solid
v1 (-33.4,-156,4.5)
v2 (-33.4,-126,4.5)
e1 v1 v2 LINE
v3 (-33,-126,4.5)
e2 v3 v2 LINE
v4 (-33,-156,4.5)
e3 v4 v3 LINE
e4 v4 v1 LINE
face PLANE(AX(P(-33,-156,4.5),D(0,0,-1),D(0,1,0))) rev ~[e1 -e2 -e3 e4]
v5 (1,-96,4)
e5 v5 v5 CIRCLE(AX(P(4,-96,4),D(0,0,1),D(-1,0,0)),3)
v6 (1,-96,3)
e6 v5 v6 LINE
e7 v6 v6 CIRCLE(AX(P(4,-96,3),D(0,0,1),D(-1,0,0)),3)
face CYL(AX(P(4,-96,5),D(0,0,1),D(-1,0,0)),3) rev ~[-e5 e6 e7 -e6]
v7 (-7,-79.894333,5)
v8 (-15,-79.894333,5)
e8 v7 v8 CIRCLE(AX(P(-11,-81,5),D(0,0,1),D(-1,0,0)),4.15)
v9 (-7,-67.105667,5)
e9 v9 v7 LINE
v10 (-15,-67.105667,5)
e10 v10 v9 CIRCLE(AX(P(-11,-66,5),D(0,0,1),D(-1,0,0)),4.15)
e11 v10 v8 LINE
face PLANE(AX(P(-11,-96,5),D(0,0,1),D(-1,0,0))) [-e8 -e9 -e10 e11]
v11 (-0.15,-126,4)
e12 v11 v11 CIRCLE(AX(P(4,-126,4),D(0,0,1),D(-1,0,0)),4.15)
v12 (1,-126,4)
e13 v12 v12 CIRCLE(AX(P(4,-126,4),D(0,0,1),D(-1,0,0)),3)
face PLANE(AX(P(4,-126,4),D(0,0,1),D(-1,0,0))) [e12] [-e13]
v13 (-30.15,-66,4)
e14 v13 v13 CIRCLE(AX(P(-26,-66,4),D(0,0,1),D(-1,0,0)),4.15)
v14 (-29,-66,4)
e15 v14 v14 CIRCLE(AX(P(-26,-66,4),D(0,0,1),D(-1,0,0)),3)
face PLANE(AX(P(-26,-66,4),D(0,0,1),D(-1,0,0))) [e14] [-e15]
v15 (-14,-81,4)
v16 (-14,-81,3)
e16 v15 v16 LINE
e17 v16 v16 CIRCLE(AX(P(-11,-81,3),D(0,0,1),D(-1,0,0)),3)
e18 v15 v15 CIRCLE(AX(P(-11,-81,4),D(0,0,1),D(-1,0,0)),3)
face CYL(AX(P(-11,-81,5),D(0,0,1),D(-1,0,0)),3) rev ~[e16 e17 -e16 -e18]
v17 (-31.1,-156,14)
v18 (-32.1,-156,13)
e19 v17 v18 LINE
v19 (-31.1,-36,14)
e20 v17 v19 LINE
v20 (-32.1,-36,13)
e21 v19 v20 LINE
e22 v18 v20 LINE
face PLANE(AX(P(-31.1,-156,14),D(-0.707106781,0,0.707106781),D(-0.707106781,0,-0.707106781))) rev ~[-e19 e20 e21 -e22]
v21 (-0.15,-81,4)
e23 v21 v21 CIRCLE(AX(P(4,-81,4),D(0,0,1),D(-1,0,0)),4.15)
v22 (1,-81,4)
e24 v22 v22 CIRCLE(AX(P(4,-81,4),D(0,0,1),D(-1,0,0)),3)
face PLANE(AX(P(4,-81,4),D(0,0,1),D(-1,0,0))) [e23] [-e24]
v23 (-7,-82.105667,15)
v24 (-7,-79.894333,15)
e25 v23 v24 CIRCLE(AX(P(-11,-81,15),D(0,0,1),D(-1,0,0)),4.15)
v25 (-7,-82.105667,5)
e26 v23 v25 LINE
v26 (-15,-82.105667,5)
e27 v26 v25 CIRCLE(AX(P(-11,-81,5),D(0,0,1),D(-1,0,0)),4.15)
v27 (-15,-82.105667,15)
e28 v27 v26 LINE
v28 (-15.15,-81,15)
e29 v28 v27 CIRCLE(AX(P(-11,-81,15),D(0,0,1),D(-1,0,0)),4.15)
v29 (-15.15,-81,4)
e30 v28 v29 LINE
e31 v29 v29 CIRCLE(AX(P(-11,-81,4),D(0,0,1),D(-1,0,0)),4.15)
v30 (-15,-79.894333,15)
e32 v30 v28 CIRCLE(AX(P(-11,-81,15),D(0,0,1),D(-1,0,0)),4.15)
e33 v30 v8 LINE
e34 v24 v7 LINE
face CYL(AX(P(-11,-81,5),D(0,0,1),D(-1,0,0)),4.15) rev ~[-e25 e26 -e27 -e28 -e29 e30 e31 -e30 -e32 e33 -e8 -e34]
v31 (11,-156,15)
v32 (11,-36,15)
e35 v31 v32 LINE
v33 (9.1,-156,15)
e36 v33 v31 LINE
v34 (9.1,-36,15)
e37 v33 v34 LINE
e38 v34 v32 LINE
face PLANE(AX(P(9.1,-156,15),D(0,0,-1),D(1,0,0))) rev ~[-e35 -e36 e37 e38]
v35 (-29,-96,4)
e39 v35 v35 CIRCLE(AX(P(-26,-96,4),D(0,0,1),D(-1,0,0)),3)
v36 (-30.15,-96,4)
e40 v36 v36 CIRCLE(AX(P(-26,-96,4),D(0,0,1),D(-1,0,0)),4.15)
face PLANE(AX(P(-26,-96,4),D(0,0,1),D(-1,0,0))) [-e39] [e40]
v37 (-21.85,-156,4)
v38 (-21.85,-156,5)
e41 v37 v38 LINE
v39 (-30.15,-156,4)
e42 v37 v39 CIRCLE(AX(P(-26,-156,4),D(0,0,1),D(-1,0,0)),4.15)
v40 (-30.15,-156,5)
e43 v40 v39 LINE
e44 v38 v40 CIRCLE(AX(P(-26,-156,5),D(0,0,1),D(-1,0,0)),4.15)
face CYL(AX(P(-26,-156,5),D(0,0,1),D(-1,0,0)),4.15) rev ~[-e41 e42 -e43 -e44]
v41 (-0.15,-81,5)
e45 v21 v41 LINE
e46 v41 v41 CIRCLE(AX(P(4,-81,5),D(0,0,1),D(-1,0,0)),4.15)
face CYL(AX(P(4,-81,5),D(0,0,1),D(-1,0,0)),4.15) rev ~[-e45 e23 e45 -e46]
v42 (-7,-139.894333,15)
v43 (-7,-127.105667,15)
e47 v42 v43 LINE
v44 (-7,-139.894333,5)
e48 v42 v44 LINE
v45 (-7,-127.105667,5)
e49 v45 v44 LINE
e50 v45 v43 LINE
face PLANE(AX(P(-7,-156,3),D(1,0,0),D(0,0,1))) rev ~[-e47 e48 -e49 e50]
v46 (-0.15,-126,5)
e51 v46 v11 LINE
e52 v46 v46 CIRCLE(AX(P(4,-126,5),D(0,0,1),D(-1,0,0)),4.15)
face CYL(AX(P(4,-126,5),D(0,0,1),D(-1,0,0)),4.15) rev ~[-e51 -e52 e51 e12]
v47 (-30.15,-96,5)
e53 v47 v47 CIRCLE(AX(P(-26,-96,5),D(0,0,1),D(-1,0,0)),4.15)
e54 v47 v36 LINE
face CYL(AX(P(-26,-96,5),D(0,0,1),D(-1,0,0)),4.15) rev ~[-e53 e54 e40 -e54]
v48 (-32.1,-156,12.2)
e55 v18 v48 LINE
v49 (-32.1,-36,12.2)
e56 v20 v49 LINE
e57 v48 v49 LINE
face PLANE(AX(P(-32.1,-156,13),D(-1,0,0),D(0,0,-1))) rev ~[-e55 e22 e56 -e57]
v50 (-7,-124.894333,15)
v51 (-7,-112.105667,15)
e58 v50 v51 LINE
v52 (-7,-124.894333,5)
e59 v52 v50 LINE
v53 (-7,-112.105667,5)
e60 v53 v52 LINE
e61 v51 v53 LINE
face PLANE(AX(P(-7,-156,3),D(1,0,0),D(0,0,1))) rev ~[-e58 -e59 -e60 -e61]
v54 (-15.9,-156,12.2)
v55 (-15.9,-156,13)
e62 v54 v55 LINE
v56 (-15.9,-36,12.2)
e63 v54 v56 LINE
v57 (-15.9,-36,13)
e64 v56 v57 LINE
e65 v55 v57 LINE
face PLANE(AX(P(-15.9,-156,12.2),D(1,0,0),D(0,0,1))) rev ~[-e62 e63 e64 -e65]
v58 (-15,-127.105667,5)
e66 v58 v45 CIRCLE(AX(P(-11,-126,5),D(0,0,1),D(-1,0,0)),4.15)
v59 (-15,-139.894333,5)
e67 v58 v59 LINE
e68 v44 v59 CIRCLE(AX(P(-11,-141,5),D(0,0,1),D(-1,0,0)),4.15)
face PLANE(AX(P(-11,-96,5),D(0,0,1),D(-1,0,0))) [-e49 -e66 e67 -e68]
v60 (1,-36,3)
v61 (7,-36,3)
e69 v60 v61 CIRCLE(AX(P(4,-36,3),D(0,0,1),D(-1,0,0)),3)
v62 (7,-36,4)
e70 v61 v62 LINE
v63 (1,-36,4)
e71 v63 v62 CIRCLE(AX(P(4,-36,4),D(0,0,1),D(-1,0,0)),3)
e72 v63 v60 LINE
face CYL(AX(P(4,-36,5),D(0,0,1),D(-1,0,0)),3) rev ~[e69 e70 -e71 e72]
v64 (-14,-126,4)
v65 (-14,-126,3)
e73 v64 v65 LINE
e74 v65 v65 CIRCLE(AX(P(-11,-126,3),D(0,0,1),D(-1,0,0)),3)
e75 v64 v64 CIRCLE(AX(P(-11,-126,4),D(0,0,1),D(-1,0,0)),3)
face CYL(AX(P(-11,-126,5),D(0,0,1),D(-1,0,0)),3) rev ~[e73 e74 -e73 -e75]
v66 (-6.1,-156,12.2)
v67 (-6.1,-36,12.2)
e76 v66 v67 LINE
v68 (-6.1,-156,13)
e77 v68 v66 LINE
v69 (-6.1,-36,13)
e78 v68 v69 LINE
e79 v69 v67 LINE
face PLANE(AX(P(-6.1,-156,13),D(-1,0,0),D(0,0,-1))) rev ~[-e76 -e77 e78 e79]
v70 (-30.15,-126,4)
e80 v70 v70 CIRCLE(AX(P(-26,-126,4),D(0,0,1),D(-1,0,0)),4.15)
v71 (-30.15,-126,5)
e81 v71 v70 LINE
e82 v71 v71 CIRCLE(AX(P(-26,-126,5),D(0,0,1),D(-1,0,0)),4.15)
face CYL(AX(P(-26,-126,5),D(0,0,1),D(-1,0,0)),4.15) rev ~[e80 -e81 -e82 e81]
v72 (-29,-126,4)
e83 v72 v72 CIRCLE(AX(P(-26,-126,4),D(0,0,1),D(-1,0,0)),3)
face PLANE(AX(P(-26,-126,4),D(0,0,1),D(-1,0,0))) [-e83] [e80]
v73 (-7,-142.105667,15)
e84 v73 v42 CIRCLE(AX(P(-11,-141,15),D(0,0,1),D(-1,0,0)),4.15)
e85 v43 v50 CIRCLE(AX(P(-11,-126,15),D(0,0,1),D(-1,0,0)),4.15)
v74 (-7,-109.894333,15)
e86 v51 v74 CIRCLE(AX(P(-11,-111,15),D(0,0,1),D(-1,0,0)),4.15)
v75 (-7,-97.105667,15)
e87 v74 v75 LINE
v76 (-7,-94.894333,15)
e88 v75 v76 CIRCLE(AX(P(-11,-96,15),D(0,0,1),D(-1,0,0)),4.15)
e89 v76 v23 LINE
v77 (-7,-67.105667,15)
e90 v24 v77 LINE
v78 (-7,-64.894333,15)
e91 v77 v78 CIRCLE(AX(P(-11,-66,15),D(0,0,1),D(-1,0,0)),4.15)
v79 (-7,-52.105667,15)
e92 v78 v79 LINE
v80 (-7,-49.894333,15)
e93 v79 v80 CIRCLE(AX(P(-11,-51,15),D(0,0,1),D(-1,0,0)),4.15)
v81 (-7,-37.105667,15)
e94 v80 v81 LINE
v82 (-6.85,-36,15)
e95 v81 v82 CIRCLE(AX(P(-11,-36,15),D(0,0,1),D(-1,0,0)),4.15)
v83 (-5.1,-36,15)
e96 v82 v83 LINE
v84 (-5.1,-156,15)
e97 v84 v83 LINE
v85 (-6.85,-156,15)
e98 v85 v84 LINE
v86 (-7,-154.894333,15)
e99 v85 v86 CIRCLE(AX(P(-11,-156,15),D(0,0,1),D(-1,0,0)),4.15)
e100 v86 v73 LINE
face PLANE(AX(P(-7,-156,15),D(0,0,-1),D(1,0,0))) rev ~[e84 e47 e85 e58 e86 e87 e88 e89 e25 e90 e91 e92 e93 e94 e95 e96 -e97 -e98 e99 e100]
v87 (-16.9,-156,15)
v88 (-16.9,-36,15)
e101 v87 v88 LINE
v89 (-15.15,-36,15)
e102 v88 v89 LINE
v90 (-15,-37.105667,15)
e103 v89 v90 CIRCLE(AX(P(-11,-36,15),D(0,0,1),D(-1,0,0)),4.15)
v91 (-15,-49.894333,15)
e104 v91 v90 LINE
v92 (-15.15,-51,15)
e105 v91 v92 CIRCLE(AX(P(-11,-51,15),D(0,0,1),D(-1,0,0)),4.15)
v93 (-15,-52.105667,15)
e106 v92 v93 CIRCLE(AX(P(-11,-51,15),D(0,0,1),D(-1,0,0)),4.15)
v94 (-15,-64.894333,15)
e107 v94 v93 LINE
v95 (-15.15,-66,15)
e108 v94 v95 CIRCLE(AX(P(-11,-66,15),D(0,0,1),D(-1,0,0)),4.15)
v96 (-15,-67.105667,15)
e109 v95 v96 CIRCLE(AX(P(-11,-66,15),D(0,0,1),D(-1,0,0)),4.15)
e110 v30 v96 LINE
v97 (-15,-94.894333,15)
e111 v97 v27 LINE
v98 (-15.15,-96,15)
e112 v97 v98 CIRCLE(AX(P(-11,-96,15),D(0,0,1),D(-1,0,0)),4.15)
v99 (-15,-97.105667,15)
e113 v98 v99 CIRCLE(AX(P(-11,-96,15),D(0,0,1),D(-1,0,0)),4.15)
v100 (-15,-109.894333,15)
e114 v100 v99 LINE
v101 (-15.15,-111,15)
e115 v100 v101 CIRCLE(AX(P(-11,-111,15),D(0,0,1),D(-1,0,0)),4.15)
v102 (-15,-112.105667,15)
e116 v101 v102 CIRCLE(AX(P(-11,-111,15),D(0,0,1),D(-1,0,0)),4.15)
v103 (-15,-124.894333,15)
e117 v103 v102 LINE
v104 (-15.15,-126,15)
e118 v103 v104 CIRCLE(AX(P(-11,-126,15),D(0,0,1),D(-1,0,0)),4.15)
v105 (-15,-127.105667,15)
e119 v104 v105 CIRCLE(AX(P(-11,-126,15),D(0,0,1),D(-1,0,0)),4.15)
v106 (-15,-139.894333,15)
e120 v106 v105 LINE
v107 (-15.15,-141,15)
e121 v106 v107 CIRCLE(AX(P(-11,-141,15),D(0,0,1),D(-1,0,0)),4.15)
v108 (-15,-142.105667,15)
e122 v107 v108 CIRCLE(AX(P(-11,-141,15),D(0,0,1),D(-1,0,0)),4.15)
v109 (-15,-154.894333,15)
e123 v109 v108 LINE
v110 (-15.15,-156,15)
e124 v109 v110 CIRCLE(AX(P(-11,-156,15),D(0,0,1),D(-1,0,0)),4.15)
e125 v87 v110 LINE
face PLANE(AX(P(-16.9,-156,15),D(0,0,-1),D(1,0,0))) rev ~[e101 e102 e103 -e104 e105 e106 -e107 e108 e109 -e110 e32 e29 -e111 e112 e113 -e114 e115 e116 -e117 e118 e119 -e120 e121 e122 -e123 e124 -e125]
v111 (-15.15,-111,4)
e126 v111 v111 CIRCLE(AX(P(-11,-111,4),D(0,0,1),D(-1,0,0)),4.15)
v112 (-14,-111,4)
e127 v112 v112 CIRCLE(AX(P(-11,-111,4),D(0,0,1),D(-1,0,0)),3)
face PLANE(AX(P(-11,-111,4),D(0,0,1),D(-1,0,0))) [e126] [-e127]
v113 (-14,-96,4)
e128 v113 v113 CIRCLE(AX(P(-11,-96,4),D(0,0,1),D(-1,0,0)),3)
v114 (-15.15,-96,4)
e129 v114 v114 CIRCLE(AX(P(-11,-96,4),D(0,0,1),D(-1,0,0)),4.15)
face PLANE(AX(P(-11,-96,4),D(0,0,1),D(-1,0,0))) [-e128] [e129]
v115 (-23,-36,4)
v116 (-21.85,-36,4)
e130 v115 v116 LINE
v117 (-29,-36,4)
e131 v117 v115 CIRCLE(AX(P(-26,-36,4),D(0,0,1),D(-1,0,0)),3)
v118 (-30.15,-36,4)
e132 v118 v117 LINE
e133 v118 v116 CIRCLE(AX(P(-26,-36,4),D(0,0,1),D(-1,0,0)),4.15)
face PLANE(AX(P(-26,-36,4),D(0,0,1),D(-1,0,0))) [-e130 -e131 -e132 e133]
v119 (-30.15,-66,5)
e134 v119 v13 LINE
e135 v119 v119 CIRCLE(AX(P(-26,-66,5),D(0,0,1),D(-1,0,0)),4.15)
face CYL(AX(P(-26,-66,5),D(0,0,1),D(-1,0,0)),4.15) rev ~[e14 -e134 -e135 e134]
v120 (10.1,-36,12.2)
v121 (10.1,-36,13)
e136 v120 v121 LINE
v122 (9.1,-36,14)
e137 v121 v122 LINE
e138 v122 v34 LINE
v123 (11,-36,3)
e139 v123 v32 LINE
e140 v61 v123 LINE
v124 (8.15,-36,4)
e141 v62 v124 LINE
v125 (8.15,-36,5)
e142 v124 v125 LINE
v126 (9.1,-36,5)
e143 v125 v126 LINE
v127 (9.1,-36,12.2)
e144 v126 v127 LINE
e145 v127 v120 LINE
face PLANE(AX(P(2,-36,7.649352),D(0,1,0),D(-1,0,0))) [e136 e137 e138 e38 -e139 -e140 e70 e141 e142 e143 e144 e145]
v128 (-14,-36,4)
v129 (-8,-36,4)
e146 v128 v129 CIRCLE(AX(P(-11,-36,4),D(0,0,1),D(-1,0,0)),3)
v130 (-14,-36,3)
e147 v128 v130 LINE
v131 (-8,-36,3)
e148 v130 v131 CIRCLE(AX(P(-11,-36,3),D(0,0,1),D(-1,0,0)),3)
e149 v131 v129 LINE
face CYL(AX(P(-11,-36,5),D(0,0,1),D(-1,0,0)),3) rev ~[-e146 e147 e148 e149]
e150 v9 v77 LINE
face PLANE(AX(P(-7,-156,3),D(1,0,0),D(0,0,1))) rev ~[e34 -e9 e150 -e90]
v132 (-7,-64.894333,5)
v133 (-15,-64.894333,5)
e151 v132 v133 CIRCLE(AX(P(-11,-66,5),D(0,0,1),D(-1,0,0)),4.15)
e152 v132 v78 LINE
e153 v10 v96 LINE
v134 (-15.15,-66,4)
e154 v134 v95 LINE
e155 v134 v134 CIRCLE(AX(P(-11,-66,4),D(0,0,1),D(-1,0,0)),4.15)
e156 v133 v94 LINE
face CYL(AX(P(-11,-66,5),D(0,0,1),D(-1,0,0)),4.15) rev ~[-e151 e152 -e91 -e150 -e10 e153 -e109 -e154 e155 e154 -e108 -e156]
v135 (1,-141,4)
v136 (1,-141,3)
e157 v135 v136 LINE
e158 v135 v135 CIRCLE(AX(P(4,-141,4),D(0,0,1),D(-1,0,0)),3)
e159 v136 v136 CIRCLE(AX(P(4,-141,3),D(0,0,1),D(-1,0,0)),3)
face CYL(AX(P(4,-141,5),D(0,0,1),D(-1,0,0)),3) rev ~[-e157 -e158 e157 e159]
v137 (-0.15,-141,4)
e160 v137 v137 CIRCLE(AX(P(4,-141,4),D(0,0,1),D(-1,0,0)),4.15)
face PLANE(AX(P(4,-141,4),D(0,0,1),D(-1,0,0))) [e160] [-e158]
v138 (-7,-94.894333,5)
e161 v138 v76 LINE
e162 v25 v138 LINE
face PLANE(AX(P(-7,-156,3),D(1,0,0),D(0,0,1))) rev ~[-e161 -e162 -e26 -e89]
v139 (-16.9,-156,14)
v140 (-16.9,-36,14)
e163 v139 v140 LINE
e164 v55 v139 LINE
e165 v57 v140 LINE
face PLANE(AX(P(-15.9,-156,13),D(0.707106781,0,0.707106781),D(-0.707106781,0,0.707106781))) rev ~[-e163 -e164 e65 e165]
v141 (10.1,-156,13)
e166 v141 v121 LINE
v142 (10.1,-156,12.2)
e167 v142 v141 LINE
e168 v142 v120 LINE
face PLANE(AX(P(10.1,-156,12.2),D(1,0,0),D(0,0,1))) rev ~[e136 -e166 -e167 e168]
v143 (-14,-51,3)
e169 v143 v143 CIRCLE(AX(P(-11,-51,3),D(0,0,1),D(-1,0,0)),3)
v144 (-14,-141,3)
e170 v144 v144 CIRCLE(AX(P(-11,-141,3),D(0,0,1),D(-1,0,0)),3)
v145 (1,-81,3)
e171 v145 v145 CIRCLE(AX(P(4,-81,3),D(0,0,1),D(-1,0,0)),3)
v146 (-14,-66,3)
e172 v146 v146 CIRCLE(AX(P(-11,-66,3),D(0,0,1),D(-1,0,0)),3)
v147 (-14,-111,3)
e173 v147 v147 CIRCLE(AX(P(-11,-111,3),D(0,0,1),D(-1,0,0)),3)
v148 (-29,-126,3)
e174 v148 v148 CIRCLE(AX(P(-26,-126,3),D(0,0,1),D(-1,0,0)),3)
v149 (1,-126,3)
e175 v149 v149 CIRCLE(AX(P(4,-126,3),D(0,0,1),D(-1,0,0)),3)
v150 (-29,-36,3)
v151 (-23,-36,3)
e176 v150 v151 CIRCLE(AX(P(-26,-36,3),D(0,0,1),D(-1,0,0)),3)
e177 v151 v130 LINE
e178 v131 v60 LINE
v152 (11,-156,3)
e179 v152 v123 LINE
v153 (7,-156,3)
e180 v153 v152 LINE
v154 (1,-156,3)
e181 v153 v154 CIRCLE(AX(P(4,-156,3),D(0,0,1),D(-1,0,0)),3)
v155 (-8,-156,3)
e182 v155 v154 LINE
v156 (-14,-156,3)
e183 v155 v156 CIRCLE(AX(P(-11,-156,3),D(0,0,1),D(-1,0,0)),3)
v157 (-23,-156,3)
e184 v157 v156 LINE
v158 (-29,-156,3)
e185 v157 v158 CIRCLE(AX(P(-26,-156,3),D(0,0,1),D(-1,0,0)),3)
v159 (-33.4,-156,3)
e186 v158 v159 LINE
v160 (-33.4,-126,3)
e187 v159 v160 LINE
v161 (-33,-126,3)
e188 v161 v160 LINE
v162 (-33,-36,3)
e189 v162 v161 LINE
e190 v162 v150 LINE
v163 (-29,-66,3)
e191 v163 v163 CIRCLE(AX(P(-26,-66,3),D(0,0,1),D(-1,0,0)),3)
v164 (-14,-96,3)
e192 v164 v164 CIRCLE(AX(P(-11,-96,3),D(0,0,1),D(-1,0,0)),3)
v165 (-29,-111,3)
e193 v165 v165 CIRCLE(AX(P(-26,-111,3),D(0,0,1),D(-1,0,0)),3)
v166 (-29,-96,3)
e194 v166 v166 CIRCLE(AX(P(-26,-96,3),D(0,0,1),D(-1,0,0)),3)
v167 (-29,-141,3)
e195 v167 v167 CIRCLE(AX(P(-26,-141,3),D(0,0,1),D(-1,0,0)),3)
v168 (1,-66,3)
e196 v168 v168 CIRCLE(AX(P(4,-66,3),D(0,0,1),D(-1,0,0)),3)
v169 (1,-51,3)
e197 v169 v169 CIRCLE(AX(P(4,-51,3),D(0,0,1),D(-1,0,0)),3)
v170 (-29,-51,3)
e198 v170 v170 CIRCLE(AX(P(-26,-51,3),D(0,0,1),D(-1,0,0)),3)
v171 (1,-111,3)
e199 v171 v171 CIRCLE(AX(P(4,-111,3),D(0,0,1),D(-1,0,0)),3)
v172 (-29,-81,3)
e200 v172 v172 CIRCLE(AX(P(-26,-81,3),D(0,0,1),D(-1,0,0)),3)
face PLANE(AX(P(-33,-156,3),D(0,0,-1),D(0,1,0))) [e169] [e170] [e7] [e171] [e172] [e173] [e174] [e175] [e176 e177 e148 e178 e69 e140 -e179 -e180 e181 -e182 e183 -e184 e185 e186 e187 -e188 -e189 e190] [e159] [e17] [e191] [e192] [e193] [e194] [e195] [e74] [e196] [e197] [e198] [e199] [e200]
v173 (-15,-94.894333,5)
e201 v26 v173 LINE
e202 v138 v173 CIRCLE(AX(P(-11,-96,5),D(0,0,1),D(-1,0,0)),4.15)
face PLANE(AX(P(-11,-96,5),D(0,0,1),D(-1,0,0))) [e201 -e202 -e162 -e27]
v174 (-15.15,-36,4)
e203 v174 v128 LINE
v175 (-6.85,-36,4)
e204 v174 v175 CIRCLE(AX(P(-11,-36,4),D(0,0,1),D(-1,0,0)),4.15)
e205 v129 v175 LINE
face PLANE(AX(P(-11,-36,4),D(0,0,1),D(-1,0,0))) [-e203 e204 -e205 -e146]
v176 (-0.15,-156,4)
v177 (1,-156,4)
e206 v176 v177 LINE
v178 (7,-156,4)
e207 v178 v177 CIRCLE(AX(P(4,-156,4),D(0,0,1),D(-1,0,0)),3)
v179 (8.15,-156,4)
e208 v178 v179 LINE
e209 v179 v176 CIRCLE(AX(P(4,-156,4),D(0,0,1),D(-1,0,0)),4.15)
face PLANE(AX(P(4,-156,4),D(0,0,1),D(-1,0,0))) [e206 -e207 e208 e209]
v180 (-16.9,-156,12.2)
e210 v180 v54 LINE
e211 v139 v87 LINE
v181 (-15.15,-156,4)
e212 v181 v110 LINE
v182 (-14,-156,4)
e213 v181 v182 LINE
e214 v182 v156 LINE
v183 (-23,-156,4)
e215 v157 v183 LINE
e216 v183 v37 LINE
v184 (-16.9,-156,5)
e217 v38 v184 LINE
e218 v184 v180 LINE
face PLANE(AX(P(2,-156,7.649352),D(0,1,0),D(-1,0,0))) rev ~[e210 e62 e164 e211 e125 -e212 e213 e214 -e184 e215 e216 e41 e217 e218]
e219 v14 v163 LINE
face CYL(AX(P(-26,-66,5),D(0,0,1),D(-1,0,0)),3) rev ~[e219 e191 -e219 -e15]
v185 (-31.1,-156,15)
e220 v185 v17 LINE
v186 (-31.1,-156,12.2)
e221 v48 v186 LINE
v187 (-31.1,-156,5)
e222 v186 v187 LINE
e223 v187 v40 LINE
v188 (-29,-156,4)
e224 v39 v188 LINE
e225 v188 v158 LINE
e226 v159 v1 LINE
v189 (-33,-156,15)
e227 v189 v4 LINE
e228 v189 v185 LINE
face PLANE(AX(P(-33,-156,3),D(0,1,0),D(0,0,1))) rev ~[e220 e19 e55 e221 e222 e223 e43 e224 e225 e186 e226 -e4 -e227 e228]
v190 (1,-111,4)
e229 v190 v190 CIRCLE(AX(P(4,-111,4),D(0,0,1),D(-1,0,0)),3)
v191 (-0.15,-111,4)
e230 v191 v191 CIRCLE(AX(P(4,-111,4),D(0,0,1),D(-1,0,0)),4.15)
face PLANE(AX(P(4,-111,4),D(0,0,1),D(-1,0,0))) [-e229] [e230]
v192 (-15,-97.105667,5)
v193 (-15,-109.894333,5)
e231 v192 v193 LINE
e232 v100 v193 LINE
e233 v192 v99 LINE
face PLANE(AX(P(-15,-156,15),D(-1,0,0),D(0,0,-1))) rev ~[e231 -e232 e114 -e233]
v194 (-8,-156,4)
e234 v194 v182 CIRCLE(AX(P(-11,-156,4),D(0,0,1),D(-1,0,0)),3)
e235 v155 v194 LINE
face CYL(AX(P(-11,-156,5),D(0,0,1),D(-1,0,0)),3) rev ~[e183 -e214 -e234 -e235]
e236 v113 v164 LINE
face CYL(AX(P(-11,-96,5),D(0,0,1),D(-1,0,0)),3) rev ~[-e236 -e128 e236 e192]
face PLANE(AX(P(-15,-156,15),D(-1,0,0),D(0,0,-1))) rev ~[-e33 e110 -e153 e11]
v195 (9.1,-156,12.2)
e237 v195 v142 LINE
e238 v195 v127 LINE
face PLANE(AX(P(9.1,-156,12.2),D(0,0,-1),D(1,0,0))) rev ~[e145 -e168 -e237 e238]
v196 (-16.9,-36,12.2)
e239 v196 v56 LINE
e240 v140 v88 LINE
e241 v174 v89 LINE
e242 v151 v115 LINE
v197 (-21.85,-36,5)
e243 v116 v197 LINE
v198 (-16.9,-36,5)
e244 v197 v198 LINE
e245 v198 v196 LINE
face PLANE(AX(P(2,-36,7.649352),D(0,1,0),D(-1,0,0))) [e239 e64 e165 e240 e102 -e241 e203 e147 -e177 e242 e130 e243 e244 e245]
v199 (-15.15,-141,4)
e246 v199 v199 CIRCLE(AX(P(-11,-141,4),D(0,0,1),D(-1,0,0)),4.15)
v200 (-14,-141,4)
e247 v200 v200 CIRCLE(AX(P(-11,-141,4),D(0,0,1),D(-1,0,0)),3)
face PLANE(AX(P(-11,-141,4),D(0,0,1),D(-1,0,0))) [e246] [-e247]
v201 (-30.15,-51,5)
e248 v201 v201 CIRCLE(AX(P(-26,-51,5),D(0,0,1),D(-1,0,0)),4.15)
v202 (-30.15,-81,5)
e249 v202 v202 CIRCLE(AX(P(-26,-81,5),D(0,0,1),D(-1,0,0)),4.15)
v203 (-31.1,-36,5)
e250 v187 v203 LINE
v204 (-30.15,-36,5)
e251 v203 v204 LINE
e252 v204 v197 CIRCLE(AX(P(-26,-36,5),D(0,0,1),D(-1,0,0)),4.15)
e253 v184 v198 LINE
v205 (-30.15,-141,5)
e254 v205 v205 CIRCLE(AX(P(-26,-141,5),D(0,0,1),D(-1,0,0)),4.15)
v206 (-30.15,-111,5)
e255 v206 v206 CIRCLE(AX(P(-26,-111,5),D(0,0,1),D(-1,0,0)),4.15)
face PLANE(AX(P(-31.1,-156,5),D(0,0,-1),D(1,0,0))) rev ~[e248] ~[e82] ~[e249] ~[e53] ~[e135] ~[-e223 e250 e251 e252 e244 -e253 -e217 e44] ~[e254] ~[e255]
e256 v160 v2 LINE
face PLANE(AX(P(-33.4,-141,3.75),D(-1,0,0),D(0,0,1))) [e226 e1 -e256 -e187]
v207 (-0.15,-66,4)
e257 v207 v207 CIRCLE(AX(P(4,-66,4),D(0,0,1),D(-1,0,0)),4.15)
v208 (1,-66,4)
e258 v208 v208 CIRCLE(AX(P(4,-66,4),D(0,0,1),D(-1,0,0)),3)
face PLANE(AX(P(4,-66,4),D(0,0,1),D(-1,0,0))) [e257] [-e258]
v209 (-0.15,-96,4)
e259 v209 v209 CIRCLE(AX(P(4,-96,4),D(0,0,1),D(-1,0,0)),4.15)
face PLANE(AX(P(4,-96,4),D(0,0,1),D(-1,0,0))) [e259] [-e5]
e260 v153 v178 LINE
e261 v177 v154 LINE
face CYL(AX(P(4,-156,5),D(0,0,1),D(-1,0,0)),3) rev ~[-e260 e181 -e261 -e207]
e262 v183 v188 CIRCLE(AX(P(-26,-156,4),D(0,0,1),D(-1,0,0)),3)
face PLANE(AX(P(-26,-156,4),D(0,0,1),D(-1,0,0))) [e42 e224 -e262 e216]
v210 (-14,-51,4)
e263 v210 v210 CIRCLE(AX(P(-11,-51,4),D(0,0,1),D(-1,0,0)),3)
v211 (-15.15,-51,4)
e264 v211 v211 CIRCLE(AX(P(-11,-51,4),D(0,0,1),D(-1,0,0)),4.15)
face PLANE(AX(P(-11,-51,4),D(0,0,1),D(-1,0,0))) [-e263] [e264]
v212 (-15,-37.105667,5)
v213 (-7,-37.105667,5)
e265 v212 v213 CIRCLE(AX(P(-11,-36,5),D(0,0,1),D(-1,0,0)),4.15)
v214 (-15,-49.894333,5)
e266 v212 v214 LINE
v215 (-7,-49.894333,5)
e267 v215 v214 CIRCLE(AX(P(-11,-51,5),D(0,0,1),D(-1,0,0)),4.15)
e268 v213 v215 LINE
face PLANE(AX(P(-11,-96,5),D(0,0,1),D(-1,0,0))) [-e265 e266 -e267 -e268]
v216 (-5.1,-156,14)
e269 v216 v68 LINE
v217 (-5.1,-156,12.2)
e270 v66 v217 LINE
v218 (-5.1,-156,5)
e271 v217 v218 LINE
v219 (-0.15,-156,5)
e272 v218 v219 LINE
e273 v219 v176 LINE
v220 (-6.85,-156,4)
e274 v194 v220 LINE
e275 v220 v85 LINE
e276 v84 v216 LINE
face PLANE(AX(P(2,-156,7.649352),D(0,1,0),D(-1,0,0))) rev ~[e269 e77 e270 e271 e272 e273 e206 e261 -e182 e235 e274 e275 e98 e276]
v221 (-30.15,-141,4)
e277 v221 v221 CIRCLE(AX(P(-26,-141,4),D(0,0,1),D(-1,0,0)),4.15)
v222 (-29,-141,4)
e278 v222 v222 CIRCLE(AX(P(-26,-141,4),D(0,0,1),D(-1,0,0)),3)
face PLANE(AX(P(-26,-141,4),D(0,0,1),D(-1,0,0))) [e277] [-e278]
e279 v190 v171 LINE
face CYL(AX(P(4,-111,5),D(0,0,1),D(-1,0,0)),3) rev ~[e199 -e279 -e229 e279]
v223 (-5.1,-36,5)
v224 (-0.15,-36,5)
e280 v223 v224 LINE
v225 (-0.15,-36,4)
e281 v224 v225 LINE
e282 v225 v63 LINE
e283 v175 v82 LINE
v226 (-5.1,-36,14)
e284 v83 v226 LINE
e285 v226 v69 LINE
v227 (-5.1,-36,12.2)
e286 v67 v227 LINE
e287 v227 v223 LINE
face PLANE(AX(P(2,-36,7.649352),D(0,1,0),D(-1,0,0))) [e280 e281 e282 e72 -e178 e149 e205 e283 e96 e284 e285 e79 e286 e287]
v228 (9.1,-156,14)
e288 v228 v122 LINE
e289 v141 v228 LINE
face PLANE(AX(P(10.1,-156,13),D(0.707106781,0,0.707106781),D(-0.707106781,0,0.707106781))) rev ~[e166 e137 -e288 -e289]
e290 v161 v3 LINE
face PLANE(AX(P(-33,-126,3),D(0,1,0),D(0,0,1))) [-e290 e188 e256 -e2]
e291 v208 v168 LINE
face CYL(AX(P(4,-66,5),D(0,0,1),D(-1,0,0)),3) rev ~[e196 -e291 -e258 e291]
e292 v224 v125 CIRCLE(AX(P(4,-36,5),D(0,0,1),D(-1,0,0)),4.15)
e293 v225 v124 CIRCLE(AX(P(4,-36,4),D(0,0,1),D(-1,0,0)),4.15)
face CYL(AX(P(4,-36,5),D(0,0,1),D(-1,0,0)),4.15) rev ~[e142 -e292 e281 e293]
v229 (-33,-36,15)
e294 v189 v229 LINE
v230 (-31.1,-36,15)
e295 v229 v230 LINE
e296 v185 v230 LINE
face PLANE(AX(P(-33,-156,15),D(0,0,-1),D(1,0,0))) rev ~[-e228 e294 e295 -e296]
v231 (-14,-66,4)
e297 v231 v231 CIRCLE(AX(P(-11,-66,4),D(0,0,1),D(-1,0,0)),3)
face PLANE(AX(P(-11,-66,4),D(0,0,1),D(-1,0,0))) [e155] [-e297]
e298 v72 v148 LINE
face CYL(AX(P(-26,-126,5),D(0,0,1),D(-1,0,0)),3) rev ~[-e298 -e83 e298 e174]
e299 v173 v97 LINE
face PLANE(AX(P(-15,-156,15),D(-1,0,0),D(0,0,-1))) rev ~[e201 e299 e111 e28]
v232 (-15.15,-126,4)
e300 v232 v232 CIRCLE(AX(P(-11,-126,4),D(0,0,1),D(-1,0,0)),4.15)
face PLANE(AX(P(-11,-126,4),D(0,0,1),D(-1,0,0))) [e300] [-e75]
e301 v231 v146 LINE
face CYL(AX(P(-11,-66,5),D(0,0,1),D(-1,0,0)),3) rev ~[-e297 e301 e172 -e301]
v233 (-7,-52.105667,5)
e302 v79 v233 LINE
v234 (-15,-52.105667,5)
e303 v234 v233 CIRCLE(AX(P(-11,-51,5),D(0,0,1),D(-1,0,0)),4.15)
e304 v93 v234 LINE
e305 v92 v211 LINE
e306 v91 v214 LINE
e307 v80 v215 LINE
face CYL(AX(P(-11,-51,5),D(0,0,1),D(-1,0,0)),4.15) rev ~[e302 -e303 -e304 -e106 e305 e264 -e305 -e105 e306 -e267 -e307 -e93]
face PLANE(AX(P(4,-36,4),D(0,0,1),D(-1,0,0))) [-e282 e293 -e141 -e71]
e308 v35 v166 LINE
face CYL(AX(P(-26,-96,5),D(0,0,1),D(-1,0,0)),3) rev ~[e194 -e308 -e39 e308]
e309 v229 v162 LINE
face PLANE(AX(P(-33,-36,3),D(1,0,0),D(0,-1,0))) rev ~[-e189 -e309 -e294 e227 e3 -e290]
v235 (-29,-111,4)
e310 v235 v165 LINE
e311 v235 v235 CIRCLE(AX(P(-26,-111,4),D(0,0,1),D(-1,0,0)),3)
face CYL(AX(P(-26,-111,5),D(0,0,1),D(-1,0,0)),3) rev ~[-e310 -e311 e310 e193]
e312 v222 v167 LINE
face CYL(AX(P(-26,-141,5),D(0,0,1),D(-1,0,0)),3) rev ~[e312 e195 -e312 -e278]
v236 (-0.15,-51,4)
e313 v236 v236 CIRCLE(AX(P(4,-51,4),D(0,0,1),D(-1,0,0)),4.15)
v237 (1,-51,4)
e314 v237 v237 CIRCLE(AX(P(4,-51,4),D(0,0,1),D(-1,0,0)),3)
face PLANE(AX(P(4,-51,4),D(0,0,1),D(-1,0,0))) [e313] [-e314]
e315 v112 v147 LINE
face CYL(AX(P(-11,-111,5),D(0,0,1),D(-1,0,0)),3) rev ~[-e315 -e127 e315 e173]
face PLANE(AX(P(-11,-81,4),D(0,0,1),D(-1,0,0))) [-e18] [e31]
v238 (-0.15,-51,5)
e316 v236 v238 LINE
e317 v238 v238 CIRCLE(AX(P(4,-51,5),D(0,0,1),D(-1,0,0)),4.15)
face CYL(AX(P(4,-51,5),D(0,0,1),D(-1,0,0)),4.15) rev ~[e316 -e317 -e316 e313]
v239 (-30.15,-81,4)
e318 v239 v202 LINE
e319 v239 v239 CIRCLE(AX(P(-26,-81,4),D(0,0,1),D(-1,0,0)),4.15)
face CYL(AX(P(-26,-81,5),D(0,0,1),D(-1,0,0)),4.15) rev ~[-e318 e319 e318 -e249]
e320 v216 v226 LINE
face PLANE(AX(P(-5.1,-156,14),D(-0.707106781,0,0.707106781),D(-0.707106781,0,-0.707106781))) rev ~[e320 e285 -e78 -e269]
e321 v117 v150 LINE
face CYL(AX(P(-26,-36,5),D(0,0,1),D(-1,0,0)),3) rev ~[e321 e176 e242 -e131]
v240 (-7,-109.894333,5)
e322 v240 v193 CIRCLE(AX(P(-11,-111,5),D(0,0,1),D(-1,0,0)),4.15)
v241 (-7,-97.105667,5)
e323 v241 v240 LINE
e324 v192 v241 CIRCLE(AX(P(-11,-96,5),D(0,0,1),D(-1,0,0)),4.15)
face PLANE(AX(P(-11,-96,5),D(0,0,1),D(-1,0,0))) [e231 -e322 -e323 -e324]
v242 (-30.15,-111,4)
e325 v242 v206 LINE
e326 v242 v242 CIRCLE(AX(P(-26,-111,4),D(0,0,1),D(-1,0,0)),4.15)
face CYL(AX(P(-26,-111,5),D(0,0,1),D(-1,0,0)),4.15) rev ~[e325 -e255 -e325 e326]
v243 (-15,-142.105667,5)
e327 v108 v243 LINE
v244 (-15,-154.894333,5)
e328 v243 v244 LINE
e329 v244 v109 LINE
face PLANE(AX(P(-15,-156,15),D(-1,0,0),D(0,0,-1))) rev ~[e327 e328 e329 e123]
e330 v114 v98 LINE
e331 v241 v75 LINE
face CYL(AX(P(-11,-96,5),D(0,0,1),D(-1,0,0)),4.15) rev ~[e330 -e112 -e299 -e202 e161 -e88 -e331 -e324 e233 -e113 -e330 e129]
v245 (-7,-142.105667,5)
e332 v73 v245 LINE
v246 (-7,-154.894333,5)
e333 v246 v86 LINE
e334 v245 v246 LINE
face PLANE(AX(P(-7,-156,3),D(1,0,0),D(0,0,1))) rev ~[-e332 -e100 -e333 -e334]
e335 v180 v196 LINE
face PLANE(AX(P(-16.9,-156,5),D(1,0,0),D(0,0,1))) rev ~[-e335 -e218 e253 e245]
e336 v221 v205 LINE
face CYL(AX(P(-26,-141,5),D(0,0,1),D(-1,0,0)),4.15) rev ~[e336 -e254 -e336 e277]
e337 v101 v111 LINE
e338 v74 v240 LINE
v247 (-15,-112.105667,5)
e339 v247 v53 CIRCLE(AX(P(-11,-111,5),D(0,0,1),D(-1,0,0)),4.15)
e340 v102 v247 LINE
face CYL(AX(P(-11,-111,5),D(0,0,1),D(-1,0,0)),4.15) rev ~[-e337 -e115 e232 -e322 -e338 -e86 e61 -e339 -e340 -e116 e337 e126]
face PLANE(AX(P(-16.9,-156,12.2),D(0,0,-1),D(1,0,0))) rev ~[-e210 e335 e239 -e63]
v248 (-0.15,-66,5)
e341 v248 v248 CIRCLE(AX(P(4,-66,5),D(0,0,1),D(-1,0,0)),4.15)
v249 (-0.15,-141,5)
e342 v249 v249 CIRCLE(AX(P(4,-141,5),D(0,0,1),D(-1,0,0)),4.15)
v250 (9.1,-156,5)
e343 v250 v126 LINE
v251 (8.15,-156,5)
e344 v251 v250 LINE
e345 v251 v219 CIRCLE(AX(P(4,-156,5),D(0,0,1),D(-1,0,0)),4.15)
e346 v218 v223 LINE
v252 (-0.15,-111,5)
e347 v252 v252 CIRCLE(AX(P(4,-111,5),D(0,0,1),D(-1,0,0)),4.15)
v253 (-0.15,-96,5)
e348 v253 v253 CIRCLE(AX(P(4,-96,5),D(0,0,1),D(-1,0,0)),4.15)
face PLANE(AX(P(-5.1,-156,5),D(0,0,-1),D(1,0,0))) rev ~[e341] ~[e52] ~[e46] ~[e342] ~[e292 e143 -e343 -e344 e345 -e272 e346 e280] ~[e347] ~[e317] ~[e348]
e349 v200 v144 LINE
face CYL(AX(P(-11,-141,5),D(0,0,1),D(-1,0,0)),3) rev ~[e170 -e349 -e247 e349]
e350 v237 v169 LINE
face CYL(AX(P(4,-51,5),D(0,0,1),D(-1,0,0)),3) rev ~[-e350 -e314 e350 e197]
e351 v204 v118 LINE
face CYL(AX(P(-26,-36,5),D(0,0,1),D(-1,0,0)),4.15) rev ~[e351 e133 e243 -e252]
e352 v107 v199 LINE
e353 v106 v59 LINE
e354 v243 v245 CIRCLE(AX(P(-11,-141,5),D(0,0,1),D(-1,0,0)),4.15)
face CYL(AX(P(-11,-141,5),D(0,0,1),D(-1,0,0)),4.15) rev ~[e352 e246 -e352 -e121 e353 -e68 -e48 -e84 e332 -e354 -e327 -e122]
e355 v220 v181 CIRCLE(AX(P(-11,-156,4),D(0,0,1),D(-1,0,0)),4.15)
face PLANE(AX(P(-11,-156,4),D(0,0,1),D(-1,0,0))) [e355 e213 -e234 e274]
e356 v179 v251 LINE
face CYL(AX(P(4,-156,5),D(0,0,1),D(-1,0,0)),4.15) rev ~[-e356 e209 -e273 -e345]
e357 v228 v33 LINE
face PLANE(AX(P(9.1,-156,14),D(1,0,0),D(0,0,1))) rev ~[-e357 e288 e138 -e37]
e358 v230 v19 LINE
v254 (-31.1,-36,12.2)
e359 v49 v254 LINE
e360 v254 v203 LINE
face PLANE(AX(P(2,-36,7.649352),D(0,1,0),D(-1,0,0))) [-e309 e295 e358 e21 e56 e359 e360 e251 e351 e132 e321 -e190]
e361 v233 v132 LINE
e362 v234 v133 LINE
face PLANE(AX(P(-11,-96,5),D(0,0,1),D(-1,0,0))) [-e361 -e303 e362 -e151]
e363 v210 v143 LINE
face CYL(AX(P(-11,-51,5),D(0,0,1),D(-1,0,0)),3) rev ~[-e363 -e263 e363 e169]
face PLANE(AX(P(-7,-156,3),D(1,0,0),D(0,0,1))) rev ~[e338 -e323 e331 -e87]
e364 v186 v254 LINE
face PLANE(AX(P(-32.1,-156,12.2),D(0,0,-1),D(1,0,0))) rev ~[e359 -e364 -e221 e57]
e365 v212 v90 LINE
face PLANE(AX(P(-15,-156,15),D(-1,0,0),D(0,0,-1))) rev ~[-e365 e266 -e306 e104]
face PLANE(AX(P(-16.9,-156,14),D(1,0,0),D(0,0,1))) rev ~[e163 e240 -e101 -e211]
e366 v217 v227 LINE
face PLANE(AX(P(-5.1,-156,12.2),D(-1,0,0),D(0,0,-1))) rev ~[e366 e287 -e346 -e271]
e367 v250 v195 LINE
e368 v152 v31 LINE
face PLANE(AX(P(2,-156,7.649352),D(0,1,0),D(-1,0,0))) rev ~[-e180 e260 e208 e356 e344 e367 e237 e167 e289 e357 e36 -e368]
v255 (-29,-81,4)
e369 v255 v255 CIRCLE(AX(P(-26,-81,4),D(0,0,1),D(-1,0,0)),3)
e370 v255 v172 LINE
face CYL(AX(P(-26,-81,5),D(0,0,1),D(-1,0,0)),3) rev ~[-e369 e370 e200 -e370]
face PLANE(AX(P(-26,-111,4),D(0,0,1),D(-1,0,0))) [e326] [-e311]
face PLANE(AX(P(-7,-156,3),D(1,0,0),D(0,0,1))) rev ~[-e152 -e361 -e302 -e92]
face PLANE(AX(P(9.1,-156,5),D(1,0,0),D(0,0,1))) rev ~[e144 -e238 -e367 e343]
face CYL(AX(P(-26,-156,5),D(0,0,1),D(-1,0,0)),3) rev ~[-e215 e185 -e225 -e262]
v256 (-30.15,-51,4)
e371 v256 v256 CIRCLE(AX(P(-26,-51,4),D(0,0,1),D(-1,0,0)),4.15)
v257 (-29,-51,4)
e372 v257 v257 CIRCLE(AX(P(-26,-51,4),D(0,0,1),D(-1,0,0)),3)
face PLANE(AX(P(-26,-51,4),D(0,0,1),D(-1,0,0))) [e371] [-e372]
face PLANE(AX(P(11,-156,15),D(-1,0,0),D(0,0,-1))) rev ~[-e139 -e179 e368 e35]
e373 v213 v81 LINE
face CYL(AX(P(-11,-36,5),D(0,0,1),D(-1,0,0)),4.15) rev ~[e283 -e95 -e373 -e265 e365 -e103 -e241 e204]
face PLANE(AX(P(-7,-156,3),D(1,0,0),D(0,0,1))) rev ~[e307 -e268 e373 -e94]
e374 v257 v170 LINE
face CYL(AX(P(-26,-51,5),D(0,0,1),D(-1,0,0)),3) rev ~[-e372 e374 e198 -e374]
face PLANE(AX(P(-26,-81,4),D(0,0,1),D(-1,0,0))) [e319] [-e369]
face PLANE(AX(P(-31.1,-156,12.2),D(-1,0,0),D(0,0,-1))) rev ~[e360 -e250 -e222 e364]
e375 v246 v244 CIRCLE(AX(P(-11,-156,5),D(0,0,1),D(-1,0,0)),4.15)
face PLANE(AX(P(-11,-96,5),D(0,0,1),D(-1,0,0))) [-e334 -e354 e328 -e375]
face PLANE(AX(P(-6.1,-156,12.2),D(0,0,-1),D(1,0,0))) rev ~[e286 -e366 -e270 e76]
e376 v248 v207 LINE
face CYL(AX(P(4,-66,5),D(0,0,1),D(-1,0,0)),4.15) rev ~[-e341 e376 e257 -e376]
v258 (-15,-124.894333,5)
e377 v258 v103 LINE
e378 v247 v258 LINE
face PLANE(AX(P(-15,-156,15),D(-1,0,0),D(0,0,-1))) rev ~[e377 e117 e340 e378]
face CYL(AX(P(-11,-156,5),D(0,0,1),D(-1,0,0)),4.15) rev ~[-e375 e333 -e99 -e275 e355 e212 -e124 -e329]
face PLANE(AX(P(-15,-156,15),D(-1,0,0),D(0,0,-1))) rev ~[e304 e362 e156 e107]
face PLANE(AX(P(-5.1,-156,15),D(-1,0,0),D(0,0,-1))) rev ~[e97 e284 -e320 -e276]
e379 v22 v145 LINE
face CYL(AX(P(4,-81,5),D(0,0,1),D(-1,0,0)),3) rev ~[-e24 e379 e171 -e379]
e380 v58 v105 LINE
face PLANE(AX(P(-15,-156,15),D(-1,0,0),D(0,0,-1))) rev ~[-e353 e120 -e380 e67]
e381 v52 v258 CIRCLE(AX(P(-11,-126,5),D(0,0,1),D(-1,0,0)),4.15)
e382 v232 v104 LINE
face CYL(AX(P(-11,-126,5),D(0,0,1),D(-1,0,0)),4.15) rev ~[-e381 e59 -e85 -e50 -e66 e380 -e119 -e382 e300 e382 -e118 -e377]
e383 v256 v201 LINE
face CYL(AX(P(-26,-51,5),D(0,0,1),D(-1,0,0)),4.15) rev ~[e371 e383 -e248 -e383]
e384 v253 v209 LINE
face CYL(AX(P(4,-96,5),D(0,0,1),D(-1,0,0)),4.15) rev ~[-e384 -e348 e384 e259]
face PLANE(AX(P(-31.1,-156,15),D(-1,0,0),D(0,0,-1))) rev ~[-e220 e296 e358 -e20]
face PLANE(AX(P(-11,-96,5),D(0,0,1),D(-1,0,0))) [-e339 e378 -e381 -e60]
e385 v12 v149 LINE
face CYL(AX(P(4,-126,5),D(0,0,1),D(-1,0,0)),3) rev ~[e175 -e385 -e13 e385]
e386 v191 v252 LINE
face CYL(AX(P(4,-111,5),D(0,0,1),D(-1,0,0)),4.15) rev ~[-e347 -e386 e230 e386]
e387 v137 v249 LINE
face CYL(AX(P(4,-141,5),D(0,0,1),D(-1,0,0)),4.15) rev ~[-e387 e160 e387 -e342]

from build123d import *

# Parameters (mm, degrees)
PAD004_DEPTH            = 120
SKETCH016_W             = 44
SKETCH016_H             = 120
PAD005_DEPTH            = 2
LINEARPATTERN002_COUNT  = 2
LINEARPATTERN002_PITCH  = 26
SKETCH018_R             = 4.15
POCKET_DEPTH            = 1
POCKET_DEPTH_BACK       = 10
SKETCH017_R             = 3
POCKET004_DEPTH         = 2
LINEARPATTERN_COUNT     = 2
LINEARPATTERN_PITCH     = 15
SKETCH_W                = 1.5
SKETCH_H                = 30
PAD_DEPTH               = 0.4
BODY002_PLACEMENT_ANGLE = 180


with BuildPart() as part:
    # Sketch015 → Pad004 (new body)
    with BuildSketch(Plane(origin=(0.5, 0, 0), x_dir=(1, 0, 0), z_dir=(0, -1, 0))):
        Polygon((9, -6), (9, 6), (7.1, 6), (7.1, 5), (8.1, 4), (8.1, 3.2), (7.1, 3.2), (7.1, -4), (-7.1, -4), (-7.1, 3.2), (-8.1, 3.2), (-8.1, 4), (-7.1, 5), (-7.1, 6), (-9, 6), (-9, -6), align=None)
    pad004 = extrude(amount=PAD004_DEPTH)

    # Sketch016 (on DatumPlane) → Pad005 (join)
    with BuildSketch(Plane(origin=(-2, 0, -6), x_dir=(1, 0, 0), z_dir=(0, 0, 1))):
        with Locations((15.5, -60)):
            Rectangle(SKETCH016_W, SKETCH016_H)
    extrude(amount=PAD005_DEPTH)

    # LinearPattern002: Pad004 ×2
    with Locations(*[(i * LINEARPATTERN002_PITCH, 0, 0) for i in range(1, LINEARPATTERN002_COUNT)]):
        add(pad004)

    # Sketch018 → Pocket (cut, two sides)
    with BuildSketch(Plane(origin=(-16.5, -215.5, -4), x_dir=(1, 0, 0), z_dir=(0, 0, 1))) as pocket_sk:
        with Locations((15, 95.5)):
            Circle(SKETCH018_R)
        with Locations((45, 95.5)):
            Circle(SKETCH018_R)
        with Locations((30, 110.5)):
            Circle(SKETCH018_R)
        with Locations((60, 110.5)):
            Circle(SKETCH018_R)
        with Locations((90, 110.5)):
            Circle(SKETCH018_R)
        with Locations((15, 125.5)):
            Circle(SKETCH018_R)
        with Locations((45, 125.5)):
            Circle(SKETCH018_R)
        with Locations((75, 125.5)):
            Circle(SKETCH018_R)
        with Locations((105, 125.5)):
            Circle(SKETCH018_R)
        with Locations((15, 155.5)):
            Circle(SKETCH018_R)
        with Locations((45, 155.5)):
            Circle(SKETCH018_R)
        with Locations((75, 155.5)):
            Circle(SKETCH018_R)
        with Locations((60, 140.5)):
            Circle(SKETCH018_R)
        with Locations((30, 140.5)):
            Circle(SKETCH018_R)
        with Locations((90, 140.5)):
            Circle(SKETCH018_R)
        with Locations((105, 155.5)):
            Circle(SKETCH018_R)
        with Locations((30, 170.5)):
            Circle(SKETCH018_R)
        with Locations((60, 170.5)):
            Circle(SKETCH018_R)
        with Locations((90, 170.5)):
            Circle(SKETCH018_R)
        with Locations((15, 185.5)):
            Circle(SKETCH018_R)
        with Locations((45, 185.5)):
            Circle(SKETCH018_R)
        with Locations((75, 185.5)):
            Circle(SKETCH018_R)
        with Locations((105, 185.5)):
            Circle(SKETCH018_R)
        with Locations((30, 200.5)):
            Circle(SKETCH018_R)
        with Locations((60, 200.5)):
            Circle(SKETCH018_R)
        with Locations((90, 200.5)):
            Circle(SKETCH018_R)
        with Locations((15, 215.5)):
            Circle(SKETCH018_R)
        with Locations((45, 215.5)):
            Circle(SKETCH018_R)
        with Locations((120, 110.5)):
            Circle(SKETCH018_R)
        with Locations((120, 140.5)):
            Circle(SKETCH018_R)
        with Locations((120, 170.5)):
            Circle(SKETCH018_R)
        with Locations((120, 200.5)):
            Circle(SKETCH018_R)
        with Locations((0, 110.5)):
            Circle(SKETCH018_R)
        with Locations((0, 140.5)):
            Circle(SKETCH018_R)
        with Locations((0, 170.5)):
            Circle(SKETCH018_R)
        with Locations((0, 200.5)):
            Circle(SKETCH018_R)
    pocket = extrude(amount=-POCKET_DEPTH, mode=Mode.SUBTRACT) + extrude(pocket_sk.sketch, amount=POCKET_DEPTH_BACK, mode=Mode.SUBTRACT)

    # Sketch017 → Pocket004 (cut)
    with BuildSketch(Plane(origin=(-16.5, -215.5, -4), x_dir=(1, 0, 0), z_dir=(0, 0, 1))):
        with Locations((15, 95.5)):
            Circle(SKETCH017_R)
        with Locations((45, 95.5)):
            Circle(SKETCH017_R)
        with Locations((30, 110.5)):
            Circle(SKETCH017_R)
        with Locations((60, 110.5)):
            Circle(SKETCH017_R)
        with Locations((90, 110.5)):
            Circle(SKETCH017_R)
        with Locations((15, 125.5)):
            Circle(SKETCH017_R)
        with Locations((45, 125.5)):
            Circle(SKETCH017_R)
        with Locations((75, 125.5)):
            Circle(SKETCH017_R)
        with Locations((105, 125.5)):
            Circle(SKETCH017_R)
        with Locations((15, 155.5)):
            Circle(SKETCH017_R)
        with Locations((45, 155.5)):
            Circle(SKETCH017_R)
        with Locations((75, 155.5)):
            Circle(SKETCH017_R)
        with Locations((60, 140.5)):
            Circle(SKETCH017_R)
        with Locations((30, 140.5)):
            Circle(SKETCH017_R)
        with Locations((90, 140.5)):
            Circle(SKETCH017_R)
        with Locations((105, 155.5)):
            Circle(SKETCH017_R)
        with Locations((30, 170.5)):
            Circle(SKETCH017_R)
        with Locations((60, 170.5)):
            Circle(SKETCH017_R)
        with Locations((90, 170.5)):
            Circle(SKETCH017_R)
        with Locations((15, 185.5)):
            Circle(SKETCH017_R)
        with Locations((45, 185.5)):
            Circle(SKETCH017_R)
        with Locations((75, 185.5)):
            Circle(SKETCH017_R)
        with Locations((105, 185.5)):
            Circle(SKETCH017_R)
        with Locations((30, 200.5)):
            Circle(SKETCH017_R)
        with Locations((60, 200.5)):
            Circle(SKETCH017_R)
        with Locations((90, 200.5)):
            Circle(SKETCH017_R)
        with Locations((15, 215.5)):
            Circle(SKETCH017_R)
        with Locations((45, 215.5)):
            Circle(SKETCH017_R)
        with Locations((120, 110.5)):
            Circle(SKETCH017_R)
        with Locations((120, 140.5)):
            Circle(SKETCH017_R)
        with Locations((120, 170.5)):
            Circle(SKETCH017_R)
        with Locations((120, 200.5)):
            Circle(SKETCH017_R)
        with Locations((0, 110.5)):
            Circle(SKETCH017_R)
        with Locations((0, 140.5)):
            Circle(SKETCH017_R)
        with Locations((0, 170.5)):
            Circle(SKETCH017_R)
        with Locations((0, 200.5)):
            Circle(SKETCH017_R)
    pocket004 = extrude(amount=-POCKET004_DEPTH, mode=Mode.SUBTRACT)

    # LinearPattern: Pocket004, Pocket ×2
    with Locations(*[(i * LINEARPATTERN_PITCH, 0, 0) for i in range(1, LINEARPATTERN_COUNT)]):
        add(pocket004, mode=Mode.SUBTRACT)
        add(pocket, mode=Mode.SUBTRACT)

    # Sketch (on Face79 of LinearPattern) → Pad (join)
    with BuildSketch(Plane(origin=(35.5, 0, 0), x_dir=(0, 0, 1), z_dir=(1, 0, 0))):
        with Locations((-5.25, 15)):
            Rectangle(SKETCH_W, SKETCH_H)
    extrude(amount=PAD_DEPTH)


with BuildPart() as part_1:
    # Body002 placement: moved
    add(part.part.moved(Location((2.5, -156, 9))).rotate(Axis((2.5, -156, 9), (0, 0, 1)), BODY002_PLACEMENT_ANGLE))


solid = part_1.part
